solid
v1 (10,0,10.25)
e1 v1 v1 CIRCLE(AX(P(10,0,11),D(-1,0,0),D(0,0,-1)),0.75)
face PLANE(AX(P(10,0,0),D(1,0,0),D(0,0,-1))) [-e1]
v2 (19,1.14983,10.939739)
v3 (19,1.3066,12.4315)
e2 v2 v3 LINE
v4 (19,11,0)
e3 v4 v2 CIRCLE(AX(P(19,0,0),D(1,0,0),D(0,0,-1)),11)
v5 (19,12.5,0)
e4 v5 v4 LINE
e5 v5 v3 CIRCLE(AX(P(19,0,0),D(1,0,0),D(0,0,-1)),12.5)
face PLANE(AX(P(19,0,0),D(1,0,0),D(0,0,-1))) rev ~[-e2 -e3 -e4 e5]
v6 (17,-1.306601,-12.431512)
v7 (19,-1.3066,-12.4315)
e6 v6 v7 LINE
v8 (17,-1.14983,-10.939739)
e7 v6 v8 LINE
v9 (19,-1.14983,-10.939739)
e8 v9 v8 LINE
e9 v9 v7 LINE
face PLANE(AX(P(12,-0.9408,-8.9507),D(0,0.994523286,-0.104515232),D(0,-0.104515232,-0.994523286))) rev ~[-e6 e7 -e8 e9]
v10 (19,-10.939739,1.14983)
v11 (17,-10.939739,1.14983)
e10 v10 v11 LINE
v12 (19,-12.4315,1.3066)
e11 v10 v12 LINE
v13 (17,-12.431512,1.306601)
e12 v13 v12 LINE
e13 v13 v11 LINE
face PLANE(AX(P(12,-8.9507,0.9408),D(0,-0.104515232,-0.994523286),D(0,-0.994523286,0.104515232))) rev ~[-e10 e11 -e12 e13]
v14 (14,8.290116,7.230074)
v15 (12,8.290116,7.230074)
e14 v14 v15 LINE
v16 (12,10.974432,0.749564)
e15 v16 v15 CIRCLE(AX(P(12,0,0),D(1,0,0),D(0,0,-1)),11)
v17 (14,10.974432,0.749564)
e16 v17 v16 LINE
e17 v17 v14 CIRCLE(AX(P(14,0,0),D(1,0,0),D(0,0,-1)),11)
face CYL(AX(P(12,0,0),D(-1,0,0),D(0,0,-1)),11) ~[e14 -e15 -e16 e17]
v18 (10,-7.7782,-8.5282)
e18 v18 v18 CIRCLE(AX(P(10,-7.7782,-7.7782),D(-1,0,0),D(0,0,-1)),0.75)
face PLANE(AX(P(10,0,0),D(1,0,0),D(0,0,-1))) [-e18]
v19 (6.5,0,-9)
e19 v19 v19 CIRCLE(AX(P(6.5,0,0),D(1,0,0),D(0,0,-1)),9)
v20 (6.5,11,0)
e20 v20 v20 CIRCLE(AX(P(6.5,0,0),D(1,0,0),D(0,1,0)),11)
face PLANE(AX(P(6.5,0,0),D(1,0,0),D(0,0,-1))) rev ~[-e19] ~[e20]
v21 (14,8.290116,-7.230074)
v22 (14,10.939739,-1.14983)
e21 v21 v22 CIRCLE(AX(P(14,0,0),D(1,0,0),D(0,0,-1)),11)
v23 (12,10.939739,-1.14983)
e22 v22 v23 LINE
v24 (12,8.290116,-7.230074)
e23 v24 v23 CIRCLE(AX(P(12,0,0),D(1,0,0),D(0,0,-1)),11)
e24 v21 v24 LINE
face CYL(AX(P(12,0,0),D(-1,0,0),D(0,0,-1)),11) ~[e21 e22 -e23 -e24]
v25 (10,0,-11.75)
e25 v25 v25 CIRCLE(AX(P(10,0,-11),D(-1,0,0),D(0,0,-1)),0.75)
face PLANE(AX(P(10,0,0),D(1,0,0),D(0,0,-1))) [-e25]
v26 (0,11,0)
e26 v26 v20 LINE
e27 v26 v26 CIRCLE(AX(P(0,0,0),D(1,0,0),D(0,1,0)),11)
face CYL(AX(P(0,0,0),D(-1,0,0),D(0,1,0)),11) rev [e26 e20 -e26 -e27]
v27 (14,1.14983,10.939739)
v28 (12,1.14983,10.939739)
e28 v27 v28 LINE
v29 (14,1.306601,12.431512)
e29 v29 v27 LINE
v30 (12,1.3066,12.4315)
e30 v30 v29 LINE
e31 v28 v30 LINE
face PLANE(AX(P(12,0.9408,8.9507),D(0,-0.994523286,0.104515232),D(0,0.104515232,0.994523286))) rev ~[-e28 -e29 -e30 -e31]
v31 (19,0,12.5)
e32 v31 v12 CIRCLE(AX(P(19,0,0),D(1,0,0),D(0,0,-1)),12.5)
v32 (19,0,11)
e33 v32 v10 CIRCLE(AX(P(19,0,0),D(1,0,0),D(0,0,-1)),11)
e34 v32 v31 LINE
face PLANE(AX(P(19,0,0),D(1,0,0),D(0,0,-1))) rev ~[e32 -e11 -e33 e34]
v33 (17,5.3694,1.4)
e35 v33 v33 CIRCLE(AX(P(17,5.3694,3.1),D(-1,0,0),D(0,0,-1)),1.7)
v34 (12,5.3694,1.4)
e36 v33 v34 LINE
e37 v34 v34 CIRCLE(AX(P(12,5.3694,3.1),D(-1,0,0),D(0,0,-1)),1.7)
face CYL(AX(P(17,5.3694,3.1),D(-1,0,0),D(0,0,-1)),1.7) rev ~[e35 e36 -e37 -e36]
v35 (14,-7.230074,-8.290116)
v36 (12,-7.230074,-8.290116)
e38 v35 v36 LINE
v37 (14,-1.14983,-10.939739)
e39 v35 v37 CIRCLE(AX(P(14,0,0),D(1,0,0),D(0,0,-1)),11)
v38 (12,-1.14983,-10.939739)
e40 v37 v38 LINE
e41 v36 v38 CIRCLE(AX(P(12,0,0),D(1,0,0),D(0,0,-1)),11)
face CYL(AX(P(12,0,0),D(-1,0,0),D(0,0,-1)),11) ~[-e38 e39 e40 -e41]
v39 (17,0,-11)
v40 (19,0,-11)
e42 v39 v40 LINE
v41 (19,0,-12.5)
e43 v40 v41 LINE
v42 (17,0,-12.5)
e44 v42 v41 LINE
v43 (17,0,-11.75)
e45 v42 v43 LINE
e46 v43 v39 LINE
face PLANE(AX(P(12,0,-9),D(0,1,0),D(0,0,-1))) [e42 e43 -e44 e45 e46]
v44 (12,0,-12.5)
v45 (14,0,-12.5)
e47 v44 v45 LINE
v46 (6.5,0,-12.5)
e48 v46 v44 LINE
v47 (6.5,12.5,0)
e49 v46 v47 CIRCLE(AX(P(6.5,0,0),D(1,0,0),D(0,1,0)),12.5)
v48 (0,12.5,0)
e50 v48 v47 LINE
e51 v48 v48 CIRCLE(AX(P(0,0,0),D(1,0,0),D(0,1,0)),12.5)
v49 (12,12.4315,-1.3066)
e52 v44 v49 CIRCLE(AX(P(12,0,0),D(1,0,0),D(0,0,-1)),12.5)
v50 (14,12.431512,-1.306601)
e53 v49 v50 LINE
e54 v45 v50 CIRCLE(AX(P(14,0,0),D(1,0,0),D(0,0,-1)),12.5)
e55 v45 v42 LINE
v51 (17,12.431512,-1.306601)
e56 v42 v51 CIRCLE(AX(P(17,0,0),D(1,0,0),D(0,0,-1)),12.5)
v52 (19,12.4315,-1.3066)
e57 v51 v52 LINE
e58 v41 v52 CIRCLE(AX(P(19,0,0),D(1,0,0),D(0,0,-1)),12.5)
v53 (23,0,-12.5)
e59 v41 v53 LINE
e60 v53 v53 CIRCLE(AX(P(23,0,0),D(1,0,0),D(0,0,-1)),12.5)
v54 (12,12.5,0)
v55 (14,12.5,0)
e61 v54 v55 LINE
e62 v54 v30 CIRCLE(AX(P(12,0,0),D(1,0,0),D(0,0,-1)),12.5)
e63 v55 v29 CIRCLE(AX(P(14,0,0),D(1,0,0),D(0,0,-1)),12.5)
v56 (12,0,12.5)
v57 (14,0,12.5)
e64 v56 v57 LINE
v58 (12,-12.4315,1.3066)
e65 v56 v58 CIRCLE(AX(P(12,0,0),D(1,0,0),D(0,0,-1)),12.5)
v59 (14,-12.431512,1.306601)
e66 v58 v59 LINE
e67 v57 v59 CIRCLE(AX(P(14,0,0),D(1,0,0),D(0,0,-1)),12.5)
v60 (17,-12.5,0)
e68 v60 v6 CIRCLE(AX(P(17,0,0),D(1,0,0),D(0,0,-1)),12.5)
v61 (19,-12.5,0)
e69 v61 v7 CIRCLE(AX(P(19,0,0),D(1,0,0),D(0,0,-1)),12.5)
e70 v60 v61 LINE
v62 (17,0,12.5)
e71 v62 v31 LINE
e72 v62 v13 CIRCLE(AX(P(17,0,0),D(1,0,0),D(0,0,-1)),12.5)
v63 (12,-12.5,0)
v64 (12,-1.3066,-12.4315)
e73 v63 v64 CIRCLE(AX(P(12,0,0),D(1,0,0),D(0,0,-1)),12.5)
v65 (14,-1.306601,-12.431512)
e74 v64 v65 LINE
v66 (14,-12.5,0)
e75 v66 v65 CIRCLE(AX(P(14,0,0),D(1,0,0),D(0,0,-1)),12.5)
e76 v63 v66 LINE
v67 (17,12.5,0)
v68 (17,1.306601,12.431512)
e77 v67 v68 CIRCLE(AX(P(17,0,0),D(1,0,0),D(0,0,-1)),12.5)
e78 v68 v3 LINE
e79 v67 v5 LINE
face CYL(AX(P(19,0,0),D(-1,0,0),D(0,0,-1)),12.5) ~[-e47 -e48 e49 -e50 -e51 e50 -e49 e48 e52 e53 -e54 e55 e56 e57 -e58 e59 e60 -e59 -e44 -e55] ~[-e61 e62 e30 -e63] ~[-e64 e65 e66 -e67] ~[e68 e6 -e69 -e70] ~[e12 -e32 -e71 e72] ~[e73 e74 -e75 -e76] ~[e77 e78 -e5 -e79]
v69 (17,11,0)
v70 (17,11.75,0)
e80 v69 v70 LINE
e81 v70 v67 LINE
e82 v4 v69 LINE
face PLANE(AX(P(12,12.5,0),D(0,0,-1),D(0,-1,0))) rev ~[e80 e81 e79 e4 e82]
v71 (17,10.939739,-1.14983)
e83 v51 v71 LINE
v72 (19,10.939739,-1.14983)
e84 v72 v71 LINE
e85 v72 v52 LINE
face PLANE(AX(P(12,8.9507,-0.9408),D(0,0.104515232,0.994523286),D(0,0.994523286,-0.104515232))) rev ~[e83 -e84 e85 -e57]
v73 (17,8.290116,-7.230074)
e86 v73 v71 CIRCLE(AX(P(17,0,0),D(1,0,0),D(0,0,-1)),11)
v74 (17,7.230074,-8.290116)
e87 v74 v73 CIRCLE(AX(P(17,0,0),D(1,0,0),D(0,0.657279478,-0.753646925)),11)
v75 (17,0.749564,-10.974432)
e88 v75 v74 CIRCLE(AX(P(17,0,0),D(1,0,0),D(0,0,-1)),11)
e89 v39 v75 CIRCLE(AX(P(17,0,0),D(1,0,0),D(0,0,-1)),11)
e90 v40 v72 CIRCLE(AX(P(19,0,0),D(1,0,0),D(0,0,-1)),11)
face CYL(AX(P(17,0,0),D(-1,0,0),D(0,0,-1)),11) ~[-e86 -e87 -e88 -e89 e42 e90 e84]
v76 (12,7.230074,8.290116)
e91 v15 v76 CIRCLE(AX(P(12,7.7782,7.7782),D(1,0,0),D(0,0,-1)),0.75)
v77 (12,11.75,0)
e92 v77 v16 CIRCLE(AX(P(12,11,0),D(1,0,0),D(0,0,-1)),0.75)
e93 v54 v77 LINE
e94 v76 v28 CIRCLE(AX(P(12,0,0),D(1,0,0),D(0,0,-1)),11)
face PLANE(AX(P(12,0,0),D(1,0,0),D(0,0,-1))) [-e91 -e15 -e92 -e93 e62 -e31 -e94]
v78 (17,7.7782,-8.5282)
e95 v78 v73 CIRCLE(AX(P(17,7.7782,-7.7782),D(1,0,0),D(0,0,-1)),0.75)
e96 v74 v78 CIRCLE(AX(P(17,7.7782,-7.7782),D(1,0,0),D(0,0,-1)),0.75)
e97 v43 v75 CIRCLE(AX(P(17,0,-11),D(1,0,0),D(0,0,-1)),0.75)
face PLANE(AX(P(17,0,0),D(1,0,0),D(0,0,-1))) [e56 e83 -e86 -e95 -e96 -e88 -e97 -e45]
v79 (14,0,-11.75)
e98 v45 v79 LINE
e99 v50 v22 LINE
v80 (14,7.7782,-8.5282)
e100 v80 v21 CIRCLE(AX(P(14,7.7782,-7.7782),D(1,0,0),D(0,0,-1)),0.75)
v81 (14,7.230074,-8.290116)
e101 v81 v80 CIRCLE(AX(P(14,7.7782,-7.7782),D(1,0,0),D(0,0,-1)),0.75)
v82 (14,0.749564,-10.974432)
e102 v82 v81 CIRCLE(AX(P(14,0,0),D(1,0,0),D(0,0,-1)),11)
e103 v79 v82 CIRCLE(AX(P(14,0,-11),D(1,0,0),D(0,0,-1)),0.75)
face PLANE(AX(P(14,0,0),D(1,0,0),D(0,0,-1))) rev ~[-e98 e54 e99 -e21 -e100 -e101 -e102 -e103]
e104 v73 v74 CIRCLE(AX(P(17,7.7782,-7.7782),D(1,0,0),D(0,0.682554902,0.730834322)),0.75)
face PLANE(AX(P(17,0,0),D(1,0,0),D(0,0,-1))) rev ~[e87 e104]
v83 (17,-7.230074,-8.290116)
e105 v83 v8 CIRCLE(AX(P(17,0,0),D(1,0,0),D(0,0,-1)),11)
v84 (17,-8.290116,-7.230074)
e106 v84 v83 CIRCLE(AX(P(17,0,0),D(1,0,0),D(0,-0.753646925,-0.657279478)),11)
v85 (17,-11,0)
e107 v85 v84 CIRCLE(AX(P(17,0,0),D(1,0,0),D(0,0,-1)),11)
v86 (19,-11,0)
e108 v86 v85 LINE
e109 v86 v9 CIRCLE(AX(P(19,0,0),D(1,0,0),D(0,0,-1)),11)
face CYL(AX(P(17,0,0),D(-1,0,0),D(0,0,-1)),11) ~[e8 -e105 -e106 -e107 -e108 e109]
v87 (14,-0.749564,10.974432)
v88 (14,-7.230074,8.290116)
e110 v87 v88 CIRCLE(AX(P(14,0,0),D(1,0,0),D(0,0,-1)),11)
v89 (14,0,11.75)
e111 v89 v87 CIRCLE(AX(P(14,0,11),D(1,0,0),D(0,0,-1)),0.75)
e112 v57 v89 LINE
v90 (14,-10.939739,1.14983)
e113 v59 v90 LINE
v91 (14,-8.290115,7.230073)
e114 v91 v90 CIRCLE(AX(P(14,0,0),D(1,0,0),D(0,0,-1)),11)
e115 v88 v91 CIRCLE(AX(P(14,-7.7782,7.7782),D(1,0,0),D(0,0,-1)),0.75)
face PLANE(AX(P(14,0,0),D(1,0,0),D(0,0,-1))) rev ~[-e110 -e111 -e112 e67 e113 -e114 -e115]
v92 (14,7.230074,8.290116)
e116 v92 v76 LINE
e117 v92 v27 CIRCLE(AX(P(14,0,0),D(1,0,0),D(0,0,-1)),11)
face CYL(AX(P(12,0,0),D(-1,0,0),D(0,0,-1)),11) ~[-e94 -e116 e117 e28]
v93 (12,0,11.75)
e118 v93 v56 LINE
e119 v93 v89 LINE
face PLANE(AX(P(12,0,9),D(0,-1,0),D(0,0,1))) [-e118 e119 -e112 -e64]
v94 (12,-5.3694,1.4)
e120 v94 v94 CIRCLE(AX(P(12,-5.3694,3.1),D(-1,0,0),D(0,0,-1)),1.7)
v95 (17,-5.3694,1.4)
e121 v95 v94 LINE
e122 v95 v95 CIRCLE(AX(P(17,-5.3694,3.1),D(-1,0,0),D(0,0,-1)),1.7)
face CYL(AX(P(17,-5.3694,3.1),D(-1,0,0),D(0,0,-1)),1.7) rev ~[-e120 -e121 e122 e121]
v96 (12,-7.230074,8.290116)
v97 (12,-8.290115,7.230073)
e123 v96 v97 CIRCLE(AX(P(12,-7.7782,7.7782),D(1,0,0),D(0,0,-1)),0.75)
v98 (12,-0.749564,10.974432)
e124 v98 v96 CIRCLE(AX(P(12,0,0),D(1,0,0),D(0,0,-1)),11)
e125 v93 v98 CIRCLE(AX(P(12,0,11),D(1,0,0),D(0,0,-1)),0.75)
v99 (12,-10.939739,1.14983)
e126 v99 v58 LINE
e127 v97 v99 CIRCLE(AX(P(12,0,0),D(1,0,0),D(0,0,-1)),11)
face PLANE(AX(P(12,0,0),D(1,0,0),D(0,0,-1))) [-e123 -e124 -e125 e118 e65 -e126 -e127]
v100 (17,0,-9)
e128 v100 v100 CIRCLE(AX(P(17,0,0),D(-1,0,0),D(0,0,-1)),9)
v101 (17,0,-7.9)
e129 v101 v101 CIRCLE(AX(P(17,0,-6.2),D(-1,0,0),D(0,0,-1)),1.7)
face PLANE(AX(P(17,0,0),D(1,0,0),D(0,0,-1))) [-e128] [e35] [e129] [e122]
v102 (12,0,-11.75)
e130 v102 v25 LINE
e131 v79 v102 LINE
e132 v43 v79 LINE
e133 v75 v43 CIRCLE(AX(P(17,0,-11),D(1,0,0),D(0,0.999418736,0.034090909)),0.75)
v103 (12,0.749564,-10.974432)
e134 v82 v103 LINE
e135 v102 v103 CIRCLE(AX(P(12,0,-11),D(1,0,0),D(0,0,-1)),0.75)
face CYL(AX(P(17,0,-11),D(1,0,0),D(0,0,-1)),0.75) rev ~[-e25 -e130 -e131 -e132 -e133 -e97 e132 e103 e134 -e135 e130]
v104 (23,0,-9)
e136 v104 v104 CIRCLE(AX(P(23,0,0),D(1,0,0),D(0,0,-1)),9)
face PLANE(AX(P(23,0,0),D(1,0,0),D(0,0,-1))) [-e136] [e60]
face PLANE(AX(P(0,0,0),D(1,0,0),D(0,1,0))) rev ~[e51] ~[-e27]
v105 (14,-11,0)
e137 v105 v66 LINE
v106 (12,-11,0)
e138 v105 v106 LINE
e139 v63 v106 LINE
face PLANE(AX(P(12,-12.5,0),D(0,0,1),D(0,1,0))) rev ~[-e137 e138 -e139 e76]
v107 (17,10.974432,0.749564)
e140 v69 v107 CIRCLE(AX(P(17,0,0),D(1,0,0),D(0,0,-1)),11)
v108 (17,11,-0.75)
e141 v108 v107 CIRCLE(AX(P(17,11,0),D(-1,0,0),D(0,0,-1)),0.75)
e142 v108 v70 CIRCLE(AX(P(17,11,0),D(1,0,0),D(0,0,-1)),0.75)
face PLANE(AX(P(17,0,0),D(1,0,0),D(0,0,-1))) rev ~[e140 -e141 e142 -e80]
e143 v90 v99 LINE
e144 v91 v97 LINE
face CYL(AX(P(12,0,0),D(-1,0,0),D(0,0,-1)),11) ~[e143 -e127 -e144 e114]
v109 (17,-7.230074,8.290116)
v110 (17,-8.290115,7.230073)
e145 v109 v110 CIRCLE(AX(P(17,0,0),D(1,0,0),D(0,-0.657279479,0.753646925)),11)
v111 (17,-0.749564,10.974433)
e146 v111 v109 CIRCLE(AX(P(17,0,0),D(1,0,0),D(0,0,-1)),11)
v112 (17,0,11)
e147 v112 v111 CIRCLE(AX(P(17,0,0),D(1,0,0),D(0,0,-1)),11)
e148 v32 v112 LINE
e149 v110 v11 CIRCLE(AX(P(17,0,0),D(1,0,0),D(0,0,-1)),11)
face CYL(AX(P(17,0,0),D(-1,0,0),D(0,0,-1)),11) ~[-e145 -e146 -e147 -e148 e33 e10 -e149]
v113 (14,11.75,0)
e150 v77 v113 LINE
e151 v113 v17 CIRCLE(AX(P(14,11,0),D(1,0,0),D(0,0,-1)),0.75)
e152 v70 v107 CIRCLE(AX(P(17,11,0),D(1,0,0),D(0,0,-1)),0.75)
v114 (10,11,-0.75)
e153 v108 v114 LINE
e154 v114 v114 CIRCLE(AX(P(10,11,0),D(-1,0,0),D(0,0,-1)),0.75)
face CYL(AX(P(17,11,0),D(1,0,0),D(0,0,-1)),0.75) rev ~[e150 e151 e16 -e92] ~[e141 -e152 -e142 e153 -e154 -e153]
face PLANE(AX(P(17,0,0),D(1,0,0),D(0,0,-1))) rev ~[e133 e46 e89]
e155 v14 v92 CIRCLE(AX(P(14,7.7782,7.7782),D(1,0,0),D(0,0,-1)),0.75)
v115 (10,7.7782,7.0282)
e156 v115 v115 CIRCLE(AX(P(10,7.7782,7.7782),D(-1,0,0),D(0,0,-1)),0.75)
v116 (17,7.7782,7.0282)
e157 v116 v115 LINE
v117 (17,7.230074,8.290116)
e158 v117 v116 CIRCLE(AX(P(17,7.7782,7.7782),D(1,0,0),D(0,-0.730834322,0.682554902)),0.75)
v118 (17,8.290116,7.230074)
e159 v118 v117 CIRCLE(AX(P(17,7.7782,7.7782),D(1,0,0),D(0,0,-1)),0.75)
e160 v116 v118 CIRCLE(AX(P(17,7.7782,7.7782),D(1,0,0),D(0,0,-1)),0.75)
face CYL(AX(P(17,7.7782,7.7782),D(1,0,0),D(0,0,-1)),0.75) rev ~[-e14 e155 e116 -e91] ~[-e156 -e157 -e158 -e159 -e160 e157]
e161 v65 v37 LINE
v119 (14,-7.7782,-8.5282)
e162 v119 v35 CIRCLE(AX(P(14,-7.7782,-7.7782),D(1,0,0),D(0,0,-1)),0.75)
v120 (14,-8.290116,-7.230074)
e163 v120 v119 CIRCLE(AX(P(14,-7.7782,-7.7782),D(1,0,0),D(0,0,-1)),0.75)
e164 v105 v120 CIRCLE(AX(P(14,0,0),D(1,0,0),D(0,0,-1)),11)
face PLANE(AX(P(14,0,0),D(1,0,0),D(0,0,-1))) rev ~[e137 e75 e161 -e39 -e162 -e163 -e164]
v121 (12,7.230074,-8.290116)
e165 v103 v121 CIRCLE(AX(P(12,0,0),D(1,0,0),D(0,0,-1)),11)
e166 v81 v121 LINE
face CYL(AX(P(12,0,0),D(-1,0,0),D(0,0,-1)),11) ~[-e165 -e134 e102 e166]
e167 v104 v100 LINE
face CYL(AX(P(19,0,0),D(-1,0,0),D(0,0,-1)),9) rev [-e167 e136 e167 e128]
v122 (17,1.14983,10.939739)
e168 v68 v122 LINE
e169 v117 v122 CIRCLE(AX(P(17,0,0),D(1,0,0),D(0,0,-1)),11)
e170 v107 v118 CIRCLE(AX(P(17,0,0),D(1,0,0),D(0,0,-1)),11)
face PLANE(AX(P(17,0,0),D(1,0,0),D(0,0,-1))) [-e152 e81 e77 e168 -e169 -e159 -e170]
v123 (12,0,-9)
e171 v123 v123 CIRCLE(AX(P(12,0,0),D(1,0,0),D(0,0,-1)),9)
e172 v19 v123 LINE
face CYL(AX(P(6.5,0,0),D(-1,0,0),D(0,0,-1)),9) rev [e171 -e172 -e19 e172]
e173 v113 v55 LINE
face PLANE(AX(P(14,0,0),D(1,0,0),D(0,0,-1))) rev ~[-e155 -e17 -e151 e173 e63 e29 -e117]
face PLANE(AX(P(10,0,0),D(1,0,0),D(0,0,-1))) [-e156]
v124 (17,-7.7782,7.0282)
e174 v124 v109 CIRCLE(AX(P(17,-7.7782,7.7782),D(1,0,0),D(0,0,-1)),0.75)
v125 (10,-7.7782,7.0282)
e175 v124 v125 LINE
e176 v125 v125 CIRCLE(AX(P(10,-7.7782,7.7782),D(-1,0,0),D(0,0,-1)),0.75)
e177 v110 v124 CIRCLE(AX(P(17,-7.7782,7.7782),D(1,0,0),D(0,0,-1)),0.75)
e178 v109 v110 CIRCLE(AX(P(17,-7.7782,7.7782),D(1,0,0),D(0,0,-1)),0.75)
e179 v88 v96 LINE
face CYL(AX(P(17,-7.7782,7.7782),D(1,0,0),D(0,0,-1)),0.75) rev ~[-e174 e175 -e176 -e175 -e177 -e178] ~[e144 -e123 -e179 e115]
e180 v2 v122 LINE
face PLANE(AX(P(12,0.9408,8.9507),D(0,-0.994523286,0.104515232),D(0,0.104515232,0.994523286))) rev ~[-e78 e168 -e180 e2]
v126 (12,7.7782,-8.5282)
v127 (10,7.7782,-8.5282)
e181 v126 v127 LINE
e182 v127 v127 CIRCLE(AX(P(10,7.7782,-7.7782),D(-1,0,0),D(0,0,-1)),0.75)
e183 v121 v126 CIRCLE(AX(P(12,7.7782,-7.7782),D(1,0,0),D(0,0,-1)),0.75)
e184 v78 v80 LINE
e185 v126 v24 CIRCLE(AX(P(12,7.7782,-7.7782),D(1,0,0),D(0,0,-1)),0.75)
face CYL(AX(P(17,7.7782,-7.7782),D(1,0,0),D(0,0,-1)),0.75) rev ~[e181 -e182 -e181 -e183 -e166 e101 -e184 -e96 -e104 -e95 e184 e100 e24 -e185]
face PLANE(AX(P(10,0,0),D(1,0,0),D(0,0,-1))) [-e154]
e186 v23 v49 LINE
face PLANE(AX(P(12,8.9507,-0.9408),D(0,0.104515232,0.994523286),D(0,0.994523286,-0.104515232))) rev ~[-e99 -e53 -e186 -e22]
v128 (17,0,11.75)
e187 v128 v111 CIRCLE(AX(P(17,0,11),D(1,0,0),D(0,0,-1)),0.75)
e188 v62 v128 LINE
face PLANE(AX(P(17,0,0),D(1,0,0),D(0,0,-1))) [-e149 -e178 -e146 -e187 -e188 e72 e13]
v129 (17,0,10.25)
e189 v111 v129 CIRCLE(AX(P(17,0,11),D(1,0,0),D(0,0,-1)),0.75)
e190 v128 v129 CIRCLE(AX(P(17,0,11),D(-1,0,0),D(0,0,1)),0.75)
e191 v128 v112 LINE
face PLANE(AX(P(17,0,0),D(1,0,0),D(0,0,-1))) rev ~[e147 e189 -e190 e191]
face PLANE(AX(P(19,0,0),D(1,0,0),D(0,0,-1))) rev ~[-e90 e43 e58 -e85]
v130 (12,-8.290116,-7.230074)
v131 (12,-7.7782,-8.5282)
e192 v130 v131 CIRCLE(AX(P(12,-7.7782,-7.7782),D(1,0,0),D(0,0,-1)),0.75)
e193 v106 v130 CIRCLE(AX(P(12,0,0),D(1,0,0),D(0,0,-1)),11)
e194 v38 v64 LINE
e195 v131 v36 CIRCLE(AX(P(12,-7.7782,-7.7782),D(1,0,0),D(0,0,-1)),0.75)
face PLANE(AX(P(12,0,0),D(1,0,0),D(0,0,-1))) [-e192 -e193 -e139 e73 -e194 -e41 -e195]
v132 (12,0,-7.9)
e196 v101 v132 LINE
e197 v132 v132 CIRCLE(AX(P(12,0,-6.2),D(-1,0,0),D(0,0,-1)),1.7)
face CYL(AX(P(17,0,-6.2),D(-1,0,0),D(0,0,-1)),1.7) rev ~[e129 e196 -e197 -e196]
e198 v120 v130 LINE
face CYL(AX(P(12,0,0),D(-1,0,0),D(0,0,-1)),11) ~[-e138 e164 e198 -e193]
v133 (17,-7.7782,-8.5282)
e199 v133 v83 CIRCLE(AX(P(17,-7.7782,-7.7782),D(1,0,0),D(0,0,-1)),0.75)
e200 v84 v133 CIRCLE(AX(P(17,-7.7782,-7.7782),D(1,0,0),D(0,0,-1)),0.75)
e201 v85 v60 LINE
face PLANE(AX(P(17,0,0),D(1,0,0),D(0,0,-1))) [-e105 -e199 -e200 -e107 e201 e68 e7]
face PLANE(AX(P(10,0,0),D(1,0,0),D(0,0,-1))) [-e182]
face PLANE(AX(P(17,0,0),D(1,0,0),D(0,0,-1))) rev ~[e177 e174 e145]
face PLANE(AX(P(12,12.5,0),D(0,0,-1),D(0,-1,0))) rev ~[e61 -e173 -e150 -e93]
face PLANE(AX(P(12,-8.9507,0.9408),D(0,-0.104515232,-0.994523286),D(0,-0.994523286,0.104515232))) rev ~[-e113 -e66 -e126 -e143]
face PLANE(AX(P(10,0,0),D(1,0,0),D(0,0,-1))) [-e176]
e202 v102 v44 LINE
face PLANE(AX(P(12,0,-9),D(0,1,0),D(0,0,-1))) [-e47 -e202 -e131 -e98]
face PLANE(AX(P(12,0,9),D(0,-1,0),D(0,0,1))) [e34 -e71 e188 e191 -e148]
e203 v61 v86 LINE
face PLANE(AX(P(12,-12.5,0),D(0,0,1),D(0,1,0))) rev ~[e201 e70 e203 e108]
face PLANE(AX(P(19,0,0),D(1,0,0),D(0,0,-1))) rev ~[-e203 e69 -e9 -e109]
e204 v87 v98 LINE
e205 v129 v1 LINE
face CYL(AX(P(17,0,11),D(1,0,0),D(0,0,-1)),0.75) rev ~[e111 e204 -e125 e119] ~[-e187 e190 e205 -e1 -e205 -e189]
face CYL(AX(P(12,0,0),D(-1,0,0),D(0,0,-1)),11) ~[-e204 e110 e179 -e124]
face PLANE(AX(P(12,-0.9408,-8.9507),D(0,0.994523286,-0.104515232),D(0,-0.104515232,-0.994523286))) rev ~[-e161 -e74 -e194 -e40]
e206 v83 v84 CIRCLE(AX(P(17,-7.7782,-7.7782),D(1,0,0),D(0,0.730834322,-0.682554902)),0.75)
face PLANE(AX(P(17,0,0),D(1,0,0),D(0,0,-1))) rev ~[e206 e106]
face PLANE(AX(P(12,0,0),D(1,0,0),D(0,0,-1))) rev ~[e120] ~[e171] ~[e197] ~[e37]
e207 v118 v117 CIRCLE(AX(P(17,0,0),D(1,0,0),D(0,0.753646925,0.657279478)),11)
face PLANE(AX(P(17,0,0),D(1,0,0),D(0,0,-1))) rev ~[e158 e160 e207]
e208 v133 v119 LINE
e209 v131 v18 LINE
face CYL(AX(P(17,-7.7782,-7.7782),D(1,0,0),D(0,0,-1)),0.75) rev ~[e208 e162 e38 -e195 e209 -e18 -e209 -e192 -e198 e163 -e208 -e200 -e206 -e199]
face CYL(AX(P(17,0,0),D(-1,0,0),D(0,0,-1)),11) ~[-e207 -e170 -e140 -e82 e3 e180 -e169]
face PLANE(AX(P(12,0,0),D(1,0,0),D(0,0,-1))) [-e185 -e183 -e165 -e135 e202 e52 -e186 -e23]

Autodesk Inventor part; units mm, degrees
ref_plane "YZ Plane" through (0, 0, 0) normal (1, 0, 0) x (0, 1, 0)
ref_plane "XZ Plane" through (0, 0, 0) normal (0, 1, 0) x (-1, 0, 0)
ref_plane "XY Plane" through (0, 0, 0) normal (0, 0, 1) x (1, 0, 0)
sketch "Sketch1" plane through (0, 0, 0) normal (1, 0, 0) x (0, 1, 0)
  circle A0 centre (0, 0) radius 12.5
  circle A1 centre (0, 0) radius 11
  dimension "d0" = 25
  dimension "d1" = 22
extrude "Extrusion1" add sketch "Sketch1" along normal blind 6.5
sketch "Sketch2" plane through (6.5, 0, 0) normal (1, 0, 0) x (0, 0, -1)
  circle A0 centre (0, 0) radius 9
  circle A1 centre (0, 0) radius 12.5
  dimension "d4" = 18
extrude "Extrusion2" add sketch "Sketch2" along normal blind 5.5
sketch "Sketch3" plane through (12, 0, 0) normal (1, 0, 0) x (0, 0, -1)
  circle A0 centre (0, 0) radius 11
  dimension "d55" = 22
extrude "Extrusion3" add sketch "Sketch3" along normal blind 2
sketch "Sketch4" plane through (14, 0, 0) normal (1, 0, 0) x (0, 0, -1)
  circle A0 centre (0, 0) radius 12.5
extrude "Extrusion4" add sketch "Sketch4" along normal blind 3
sketch "Sketch5" plane through (17, 0, 0) normal (1, 0, 0) x (0, 0, -1)
  circle A0 centre (0, 0) radius 9
  circle A1 centre (0, 0) radius 11
  dimension "d54" = 22
extrude "Extrusion5" add sketch "Sketch5" along normal blind 2
sketch "Sketch7" plane through (17, 0, 0) normal (1, 0, 0) x (0, 0, -1)
  line L0 (0, 0) -> (6.2, 0)
  line L1 (0, 0) -> (-3.1, 5.3694)
  line L2 (0, 0) -> (6.2, 0) construction
  line L3 (0, 0) -> (-3.1, -5.3694)
  line L4 (0, 0) -> (6.2, 0) construction
  dimension "d15" = 6.2
  dimension "d16" = 6.2
  dimension "d17" = 120
  dimension "d18" = 6.2
  dimension "d19" = 120
hole "Hole1" at (17, 5.3694, 3.1) at (17, 0, -6.2) at (17, -5.3694, 3.1) direction (-1, 0, 0) diameter 3.4 end through all clearance for "Countersunk Flat Head Screw ISO 2009/7046" size "M3" standard "ISO"
sketch "Sketch8" plane through (12, 0, 0) normal (1, 0, 0) x (0, 0, -1)
  circle A0 centre (0, 0) radius 9
  circle A1 centre (0, 0) radius 9 projected
  circle A2 centre (0, 0) radius 12.5
  line L0 (-9, 0) -> (-12.5, 0)
  line L1 (-8.9507, 0.9408) -> (-12.4315, 1.3066)
  line L2 (-0.9408, -8.9507) -> (-1.3066, -12.4315)
  circle A3 centre (0, 0) radius 12.5 projected
  line L3 (0, -12.5) -> (0, -9)
  line L4 (9, 0) -> (12.5, 0)
  line L5 (0.9408, 8.9507) -> (1.3066, 12.4315)
  line L6 (0, 12.5) -> (0, 9)
  line L7 (-0.2849, 0.0299) -> (8.8591, 0.0299) construction
  line L8 (8.9507, -0.9408) -> (12.4315, -1.3066)
extrude "Extrusion7" add sketch "Sketch8" along normal blind 7 contours L4 A2 L8 A0 | A0 L6 A2 L5 | L3 A2 L2 A0 | A0 L0 A2 L1
sketch "Sketch10" plane through (17, 0, 0) normal (1, 0, 0) x (0, 0, -1)
  circle A0 centre (0, 0) radius 11
  circle A1 centre (0, 11) radius 0.75
  arc A2 (-11, 0) -> (-1.1498, -10.9397) centre (0, 0) ccw projected
  circle A3 centre (-11, 0) radius 0.75
  line L0 (0, -11) -> (0, -12.5) projected
  circle A4 centre (0, -11) radius 0.75
  circle A5 centre (11, 0) radius 0.75
  line L1 (0, 0) -> (10.9982, 0) construction
  line L2 (0, 0) -> (7.7782, 7.7782)
  line L3 (0, 0) -> (11, 0) construction
  circle A6 centre (7.7782, 7.7782) radius 0.75
  line L4 (0, 0) -> (-7.7782, 7.7782)
  line L5 (0, 0) -> (-7.7782, -7.7782)
  line L6 (0, 0) -> (7.7782, -7.7782)
  circle A7 centre (-7.7782, -7.7782) radius 0.75
  circle A8 centre (7.7782, -7.7782) radius 0.75
  circle A9 centre (-7.7782, 7.7782) radius 0.75
  dimension "d60" = 1.5
  dimension "d61" = 1.5
  dimension "d62" = 1.5
  dimension "d63" = 1.5
  dimension "d66" = 11
  dimension "d67" = 45
  dimension "d68" = 1.5
  dimension "d69" = 11
  dimension "d70" = 11
  dimension "d71" = 11
  dimension "d72" = 1.5
  dimension "d73" = 1.5
  dimension "d74" = 1.5
extrude "Extrusion8" cut sketch "Sketch10" against normal blind 7 contours A0 A5 | A0 A5 | A6 L2 A0 | A0 A6 | A8 A0 | A0 L6 A8 | L2 A6 A0 | A0 A8 L6 | A1 A0 | A0 A1 | A9 A0 L4 | L4 A0 A9 | A7 A0 L5 | L5 A0 A7 | A0 A9 | A0 A7 | A3 A0 | A0 A3
sketch "Sketch11" plane through (19, 0, 0) normal (1, 0, 0) x (0, 0, -1)
  circle A0 centre (0, 0) radius 9
  circle A1 centre (0, 0) radius 12.5
  dimension "d77" = 18
  dimension "d78" = 25
extrude "Extrusion9" add sketch "Sketch11" along normal blind 4
properties part number "felga"
